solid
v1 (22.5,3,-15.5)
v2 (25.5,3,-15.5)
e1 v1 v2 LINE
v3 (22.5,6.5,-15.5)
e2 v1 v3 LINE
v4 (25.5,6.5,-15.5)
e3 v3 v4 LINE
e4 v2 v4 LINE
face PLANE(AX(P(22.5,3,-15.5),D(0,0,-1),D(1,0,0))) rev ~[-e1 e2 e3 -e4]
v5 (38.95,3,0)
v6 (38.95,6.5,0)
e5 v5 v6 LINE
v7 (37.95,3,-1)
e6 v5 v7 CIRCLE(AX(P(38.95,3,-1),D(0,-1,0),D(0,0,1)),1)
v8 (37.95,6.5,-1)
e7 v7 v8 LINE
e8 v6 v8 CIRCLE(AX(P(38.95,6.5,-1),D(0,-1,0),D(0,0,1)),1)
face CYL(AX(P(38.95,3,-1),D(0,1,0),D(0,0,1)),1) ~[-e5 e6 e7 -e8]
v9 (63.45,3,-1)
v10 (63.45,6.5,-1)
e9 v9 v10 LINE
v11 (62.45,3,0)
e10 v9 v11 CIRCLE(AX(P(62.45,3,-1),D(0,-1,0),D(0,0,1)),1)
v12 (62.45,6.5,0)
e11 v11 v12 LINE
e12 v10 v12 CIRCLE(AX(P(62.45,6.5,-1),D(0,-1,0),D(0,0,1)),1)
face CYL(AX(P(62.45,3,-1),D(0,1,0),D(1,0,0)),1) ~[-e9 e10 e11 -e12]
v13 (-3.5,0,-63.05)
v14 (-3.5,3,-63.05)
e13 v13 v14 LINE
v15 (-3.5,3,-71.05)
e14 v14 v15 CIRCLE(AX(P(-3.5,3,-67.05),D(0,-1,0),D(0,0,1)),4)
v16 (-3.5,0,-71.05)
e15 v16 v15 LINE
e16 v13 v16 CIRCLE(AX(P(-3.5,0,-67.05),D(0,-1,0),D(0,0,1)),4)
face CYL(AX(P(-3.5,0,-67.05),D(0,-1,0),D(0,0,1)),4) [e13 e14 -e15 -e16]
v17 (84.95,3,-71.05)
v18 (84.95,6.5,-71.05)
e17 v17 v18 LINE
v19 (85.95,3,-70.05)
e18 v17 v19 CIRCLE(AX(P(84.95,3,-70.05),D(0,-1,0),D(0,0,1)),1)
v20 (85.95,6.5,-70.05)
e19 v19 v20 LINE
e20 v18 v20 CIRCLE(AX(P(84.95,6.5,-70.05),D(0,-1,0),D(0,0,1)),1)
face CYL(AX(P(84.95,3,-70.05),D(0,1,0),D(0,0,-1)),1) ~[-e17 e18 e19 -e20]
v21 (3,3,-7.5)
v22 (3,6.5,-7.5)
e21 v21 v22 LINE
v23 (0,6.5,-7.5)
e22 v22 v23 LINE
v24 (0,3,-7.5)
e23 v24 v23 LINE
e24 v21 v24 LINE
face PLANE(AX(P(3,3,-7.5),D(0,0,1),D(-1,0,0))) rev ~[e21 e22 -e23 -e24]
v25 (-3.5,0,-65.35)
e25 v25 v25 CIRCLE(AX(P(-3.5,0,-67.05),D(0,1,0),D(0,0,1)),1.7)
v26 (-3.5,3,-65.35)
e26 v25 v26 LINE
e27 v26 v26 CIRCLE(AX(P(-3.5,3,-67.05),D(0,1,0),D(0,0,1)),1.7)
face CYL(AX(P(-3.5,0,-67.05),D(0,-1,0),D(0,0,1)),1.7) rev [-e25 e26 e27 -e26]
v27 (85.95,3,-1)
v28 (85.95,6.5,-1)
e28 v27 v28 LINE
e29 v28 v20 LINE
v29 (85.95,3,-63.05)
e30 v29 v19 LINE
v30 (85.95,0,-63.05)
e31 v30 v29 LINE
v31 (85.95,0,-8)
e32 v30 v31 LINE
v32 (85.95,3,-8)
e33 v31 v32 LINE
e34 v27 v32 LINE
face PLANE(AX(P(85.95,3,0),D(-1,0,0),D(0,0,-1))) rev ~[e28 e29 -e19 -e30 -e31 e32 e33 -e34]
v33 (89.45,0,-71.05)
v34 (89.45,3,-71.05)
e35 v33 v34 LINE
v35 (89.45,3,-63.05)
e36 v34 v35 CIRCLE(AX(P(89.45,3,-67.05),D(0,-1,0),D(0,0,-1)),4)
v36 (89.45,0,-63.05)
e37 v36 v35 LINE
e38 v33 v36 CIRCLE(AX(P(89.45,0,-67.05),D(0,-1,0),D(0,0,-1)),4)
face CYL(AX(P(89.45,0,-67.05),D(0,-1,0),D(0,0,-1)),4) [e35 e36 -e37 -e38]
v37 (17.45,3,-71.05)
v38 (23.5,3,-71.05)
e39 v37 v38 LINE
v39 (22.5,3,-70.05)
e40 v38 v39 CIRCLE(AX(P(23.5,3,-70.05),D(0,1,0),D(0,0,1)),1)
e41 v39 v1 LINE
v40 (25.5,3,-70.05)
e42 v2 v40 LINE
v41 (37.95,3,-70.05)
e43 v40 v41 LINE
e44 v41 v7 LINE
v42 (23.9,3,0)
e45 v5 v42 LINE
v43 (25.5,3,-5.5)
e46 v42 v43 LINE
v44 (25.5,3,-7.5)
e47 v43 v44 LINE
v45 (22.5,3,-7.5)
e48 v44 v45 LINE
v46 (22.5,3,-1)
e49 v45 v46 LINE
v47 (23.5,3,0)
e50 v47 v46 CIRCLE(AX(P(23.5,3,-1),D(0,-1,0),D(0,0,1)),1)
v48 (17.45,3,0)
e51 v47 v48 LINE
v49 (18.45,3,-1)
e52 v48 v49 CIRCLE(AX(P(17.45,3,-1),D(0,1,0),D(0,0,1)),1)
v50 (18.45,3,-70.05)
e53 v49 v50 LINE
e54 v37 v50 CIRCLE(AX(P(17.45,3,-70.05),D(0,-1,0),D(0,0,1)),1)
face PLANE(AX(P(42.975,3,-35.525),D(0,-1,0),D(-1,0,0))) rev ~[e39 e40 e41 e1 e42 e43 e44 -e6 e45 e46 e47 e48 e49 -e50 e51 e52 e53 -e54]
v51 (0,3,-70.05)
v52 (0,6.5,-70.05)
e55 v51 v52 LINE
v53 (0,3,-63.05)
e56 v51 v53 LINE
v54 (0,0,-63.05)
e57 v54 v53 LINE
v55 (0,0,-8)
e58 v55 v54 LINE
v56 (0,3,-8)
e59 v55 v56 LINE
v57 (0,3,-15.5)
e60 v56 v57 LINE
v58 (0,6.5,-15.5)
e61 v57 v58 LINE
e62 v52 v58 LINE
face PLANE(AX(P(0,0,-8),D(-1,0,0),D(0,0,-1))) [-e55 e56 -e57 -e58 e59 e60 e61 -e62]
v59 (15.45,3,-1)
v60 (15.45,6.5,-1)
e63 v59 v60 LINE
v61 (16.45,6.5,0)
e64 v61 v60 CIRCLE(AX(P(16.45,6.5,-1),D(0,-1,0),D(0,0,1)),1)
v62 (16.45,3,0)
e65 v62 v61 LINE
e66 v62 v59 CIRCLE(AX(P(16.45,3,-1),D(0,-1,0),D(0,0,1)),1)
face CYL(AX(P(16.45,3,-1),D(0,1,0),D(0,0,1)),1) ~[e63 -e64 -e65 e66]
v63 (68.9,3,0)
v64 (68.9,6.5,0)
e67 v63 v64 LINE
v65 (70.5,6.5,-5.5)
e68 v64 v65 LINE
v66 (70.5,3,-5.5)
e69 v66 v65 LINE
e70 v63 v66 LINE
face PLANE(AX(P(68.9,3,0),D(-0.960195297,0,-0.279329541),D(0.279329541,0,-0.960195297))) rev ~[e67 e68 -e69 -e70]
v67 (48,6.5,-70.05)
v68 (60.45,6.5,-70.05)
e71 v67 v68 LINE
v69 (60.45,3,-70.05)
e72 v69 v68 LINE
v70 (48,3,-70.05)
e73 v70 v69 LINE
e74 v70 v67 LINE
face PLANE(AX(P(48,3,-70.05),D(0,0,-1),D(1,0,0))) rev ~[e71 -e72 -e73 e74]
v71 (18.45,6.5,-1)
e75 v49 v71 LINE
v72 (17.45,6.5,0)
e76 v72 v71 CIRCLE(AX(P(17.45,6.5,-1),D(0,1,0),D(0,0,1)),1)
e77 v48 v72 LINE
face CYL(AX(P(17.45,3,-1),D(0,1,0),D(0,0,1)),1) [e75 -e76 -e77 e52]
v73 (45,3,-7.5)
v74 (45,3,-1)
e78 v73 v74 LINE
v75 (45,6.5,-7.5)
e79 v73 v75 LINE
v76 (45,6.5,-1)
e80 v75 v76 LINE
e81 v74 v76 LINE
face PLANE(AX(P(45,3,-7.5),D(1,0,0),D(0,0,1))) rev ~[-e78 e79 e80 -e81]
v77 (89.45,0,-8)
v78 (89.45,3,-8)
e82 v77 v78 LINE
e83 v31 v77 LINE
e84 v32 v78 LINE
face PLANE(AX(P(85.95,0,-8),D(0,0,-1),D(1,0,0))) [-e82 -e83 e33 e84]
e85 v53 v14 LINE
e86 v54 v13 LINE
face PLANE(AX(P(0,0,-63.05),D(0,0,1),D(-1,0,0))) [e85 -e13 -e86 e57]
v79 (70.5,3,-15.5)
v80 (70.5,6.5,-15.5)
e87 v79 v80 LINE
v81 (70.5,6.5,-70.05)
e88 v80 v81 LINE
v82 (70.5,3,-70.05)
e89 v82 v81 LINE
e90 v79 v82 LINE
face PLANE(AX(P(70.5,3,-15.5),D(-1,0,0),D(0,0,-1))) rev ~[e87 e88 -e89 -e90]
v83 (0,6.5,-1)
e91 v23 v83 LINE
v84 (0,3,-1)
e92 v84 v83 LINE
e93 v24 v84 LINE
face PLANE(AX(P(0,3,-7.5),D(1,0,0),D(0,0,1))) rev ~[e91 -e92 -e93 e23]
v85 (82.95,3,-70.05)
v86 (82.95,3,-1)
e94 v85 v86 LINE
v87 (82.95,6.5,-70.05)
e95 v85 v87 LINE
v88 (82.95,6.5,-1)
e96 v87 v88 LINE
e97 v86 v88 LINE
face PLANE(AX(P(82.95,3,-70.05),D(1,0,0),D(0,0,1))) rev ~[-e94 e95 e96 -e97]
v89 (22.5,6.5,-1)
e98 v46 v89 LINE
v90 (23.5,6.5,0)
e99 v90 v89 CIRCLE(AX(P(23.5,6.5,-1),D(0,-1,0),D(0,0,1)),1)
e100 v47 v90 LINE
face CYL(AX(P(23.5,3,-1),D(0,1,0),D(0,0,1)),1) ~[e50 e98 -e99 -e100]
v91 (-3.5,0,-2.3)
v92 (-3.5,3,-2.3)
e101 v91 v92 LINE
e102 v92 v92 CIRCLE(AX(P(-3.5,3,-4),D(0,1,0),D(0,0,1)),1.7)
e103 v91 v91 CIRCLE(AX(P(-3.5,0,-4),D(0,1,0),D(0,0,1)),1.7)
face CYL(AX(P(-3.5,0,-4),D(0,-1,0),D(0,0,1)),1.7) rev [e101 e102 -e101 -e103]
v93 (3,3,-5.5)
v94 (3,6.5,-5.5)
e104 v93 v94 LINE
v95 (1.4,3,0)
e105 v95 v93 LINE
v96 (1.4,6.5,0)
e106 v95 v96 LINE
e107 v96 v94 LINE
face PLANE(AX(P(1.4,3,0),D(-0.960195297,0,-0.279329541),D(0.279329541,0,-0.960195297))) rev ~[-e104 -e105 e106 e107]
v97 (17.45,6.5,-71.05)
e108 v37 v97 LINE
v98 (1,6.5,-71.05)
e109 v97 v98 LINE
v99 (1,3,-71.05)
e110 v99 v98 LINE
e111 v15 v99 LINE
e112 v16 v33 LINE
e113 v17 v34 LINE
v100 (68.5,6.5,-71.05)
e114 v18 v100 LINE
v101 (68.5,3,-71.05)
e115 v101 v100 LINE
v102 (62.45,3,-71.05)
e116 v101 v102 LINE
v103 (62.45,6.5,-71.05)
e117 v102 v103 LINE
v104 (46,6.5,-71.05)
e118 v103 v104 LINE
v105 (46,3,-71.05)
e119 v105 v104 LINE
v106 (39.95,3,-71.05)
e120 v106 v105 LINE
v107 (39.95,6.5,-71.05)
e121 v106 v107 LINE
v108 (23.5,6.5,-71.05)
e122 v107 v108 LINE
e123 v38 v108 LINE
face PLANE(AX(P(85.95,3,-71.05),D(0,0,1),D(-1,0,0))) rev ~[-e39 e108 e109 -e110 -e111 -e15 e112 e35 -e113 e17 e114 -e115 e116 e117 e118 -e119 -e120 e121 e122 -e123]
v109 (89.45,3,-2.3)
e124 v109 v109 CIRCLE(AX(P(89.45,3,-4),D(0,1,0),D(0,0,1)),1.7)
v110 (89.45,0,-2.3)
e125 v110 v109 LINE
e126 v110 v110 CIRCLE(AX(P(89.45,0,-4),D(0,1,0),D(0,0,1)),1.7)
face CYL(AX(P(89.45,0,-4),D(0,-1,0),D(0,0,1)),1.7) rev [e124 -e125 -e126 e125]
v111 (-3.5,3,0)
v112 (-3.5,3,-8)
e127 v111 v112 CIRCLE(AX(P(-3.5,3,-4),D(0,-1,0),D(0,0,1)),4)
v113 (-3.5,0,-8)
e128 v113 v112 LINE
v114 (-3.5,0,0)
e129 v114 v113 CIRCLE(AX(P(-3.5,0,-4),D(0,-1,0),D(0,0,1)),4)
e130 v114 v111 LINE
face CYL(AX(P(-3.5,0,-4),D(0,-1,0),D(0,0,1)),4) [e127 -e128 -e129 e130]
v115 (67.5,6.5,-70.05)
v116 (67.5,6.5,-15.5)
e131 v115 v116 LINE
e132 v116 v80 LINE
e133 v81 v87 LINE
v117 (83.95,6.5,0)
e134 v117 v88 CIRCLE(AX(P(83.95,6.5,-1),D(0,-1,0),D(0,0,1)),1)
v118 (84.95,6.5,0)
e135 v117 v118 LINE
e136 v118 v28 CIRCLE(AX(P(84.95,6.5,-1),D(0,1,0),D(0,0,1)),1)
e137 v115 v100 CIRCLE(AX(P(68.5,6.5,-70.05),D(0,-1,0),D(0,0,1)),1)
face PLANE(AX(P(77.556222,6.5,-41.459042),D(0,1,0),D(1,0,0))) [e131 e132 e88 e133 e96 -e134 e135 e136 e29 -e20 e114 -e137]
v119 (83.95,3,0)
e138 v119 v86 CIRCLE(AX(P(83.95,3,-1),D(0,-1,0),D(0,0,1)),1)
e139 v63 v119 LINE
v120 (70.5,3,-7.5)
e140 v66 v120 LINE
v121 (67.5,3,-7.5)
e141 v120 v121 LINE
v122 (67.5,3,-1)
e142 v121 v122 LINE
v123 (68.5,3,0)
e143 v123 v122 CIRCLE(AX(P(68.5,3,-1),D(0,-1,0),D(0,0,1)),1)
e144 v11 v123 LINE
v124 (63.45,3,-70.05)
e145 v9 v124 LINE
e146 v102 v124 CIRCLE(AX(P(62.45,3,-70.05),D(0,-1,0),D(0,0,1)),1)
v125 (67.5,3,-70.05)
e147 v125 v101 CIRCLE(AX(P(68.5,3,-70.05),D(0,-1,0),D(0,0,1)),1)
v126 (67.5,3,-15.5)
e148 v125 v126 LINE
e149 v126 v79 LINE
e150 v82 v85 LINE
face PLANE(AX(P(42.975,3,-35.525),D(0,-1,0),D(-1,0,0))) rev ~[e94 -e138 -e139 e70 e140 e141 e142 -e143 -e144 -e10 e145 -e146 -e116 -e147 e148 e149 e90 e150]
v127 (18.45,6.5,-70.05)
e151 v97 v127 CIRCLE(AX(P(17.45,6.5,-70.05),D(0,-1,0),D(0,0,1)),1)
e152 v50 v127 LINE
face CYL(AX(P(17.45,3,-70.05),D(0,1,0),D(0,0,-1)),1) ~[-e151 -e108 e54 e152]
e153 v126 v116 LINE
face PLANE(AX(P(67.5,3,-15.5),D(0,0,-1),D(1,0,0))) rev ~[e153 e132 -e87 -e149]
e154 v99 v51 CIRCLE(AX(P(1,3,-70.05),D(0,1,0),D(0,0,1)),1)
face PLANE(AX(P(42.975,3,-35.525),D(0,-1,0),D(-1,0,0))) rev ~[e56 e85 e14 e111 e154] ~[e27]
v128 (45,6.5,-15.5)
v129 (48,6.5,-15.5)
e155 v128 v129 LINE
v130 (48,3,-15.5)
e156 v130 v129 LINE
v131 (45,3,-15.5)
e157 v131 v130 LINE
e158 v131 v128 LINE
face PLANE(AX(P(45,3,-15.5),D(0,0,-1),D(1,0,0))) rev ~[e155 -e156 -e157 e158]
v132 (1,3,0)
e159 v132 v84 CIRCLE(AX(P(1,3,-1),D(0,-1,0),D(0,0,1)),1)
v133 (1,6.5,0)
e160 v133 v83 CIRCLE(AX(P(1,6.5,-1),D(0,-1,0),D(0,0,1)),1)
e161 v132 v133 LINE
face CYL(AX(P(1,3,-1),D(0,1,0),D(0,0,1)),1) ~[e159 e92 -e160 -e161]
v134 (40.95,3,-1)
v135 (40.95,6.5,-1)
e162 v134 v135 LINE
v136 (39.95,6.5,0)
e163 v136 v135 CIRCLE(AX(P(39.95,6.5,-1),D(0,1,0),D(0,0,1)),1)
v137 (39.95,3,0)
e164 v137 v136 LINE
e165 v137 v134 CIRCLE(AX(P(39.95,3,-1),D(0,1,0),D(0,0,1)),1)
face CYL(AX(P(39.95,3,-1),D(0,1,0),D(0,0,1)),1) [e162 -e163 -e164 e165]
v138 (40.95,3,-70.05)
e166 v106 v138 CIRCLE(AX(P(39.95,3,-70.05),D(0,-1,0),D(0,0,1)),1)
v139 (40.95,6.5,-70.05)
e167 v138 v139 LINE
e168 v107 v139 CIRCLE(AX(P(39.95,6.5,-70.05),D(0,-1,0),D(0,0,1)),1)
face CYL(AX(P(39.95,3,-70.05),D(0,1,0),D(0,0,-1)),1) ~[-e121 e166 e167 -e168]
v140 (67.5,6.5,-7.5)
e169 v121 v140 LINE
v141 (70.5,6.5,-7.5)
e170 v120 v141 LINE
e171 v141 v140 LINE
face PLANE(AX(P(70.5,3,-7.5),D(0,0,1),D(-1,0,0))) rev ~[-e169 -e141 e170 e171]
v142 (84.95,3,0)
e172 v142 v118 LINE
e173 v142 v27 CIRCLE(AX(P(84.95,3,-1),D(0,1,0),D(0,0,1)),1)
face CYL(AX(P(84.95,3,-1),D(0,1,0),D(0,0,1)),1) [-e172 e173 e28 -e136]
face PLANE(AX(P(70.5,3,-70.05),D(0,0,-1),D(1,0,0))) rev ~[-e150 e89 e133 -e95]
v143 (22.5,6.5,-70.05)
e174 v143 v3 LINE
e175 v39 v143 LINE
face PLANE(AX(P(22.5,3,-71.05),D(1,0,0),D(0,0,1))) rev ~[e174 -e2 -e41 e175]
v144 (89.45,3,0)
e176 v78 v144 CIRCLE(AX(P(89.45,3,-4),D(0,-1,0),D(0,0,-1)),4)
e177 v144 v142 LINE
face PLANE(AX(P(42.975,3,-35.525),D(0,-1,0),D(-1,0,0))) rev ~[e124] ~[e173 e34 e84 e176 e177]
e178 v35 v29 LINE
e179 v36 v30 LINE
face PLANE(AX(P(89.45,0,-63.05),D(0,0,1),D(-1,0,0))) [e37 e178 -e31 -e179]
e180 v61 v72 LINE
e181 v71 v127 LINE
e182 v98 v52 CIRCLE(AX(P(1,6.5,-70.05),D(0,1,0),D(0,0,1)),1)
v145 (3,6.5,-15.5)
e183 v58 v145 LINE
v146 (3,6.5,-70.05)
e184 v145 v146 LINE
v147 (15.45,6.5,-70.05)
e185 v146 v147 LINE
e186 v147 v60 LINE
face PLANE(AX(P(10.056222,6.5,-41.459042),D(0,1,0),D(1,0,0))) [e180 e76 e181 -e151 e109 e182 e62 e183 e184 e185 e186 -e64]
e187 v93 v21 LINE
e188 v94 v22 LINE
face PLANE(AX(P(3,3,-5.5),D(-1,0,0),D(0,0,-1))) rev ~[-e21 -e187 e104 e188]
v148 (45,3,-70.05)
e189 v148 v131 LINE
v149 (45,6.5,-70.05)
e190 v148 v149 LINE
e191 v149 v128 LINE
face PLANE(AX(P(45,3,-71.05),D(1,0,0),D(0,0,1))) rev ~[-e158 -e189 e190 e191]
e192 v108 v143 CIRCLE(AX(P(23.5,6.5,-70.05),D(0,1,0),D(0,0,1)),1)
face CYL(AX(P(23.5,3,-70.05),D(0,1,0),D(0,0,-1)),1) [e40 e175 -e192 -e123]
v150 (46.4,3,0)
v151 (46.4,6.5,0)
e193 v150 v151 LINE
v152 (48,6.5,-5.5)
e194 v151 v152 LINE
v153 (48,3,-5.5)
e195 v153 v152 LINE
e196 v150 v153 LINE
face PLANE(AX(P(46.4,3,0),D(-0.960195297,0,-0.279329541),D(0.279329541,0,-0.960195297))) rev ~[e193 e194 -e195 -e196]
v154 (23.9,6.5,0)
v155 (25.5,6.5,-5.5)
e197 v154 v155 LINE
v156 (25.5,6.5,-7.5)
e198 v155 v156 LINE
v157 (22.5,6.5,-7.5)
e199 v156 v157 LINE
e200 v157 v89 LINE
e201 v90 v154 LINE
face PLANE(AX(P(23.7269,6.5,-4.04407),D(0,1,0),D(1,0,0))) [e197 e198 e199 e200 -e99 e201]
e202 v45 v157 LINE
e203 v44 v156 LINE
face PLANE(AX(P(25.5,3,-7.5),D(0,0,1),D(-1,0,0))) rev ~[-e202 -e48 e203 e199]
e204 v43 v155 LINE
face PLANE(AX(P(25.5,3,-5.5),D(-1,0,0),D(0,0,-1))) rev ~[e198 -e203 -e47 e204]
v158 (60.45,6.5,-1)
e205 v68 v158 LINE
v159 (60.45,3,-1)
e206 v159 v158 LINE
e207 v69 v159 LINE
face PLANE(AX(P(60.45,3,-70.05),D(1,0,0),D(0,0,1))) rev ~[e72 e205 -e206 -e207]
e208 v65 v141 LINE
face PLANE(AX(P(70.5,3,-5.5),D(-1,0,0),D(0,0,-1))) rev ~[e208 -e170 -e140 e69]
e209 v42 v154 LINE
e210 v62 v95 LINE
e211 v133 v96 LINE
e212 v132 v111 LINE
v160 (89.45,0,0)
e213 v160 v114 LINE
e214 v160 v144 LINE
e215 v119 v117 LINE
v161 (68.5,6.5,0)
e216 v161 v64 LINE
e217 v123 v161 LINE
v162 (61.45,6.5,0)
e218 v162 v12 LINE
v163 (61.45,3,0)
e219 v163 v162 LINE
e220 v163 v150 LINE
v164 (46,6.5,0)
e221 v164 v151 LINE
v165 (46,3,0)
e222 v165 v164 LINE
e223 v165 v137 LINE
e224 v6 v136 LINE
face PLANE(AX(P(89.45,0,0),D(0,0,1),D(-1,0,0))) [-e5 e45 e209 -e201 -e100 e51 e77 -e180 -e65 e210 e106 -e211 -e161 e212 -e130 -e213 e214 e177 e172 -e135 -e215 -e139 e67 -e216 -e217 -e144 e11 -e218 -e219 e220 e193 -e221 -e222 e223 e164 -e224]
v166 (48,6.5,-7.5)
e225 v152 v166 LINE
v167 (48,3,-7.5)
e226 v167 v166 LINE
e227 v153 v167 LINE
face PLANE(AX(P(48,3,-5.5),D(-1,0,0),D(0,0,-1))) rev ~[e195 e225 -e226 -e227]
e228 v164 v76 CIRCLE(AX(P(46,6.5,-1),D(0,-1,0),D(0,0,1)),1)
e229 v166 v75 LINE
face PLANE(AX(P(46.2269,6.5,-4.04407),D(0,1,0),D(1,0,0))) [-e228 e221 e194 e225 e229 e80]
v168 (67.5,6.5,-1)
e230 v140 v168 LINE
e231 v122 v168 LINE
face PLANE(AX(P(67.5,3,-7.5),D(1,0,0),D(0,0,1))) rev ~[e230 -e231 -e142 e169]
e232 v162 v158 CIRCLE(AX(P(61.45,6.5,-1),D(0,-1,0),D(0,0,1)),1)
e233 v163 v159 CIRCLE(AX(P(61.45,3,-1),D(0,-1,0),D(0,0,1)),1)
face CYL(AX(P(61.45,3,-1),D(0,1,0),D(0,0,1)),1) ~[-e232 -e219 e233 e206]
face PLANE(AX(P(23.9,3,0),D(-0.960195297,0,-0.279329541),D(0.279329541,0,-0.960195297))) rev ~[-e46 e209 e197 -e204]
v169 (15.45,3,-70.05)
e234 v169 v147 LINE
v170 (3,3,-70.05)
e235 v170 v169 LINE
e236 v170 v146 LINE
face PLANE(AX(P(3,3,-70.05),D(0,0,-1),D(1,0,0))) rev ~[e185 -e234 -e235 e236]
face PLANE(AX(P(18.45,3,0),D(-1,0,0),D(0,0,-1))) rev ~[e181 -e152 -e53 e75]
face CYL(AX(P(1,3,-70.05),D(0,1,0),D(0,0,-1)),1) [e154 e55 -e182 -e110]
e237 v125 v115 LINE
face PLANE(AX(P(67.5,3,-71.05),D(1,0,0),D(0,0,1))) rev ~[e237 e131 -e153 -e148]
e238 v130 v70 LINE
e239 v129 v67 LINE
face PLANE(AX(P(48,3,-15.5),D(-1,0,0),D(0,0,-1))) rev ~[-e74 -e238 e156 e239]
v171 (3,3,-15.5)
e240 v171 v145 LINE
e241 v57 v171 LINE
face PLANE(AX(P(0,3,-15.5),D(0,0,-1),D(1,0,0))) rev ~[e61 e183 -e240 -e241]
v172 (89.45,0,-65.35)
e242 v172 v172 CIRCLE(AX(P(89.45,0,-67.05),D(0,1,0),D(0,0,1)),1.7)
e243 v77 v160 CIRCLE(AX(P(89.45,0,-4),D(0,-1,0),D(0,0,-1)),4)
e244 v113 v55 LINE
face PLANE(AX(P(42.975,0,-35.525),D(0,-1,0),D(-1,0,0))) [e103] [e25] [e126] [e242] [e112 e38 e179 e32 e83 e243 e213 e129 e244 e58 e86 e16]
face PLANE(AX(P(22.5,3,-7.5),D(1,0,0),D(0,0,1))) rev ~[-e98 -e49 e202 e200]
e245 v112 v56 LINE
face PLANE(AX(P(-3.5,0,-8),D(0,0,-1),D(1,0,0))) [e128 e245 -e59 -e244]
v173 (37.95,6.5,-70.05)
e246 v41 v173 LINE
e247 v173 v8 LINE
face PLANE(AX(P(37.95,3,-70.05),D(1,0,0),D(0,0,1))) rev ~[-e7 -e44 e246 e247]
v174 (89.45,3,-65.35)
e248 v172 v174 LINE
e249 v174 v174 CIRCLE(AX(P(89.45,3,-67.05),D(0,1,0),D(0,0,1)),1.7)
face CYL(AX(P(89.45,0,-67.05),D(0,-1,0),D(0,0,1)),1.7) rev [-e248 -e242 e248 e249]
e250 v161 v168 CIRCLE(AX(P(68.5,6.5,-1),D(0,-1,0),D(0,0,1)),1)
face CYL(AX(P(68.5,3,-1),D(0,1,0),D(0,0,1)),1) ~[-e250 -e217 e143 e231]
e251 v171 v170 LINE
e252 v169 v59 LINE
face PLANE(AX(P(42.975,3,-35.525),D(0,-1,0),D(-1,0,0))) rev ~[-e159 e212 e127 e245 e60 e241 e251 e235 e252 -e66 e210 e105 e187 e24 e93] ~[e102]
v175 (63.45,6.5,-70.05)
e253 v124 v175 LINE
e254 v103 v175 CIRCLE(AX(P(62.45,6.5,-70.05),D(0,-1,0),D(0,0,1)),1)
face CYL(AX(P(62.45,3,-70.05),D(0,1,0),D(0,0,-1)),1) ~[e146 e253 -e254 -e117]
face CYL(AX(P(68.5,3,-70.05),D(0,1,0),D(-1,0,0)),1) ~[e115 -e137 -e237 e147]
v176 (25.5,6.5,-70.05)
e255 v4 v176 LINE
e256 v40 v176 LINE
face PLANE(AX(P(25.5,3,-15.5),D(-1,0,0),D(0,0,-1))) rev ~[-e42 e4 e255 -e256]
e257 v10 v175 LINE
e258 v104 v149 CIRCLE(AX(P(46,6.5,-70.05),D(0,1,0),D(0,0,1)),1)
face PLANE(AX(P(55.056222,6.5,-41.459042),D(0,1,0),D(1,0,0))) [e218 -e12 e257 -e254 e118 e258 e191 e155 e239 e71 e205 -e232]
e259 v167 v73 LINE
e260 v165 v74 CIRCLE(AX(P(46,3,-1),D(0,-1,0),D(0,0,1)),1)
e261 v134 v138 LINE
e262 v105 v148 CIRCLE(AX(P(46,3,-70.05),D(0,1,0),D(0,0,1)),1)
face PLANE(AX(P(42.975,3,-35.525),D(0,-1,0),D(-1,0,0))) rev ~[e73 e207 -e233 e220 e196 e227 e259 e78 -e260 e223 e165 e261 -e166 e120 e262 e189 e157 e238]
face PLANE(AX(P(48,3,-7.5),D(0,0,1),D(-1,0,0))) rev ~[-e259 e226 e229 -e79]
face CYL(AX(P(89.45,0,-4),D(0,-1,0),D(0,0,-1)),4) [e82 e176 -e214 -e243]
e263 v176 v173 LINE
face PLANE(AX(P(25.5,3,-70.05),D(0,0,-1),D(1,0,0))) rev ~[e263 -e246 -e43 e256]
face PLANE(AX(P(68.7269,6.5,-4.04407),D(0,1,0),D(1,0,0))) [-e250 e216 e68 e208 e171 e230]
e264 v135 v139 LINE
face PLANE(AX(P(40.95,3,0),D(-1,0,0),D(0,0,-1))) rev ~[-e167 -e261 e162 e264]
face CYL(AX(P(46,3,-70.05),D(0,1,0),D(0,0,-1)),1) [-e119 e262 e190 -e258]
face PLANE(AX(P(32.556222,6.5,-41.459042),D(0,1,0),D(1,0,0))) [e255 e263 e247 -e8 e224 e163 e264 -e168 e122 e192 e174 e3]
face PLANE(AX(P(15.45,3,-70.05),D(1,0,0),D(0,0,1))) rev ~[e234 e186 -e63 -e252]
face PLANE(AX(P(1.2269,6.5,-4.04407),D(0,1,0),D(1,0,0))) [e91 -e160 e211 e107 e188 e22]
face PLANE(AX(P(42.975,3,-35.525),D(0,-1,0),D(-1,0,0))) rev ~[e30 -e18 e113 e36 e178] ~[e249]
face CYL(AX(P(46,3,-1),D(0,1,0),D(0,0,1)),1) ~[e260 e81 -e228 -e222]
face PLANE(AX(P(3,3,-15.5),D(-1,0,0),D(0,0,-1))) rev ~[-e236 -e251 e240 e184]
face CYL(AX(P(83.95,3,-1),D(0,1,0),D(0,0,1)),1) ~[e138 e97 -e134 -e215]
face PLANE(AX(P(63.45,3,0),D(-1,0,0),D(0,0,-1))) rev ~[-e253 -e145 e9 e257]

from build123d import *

# Parameters (mm, degrees)
SKETCH_2_R      = 1.7
EXTRUDE_1_DEPTH = 3
EXTRUDE_2_DEPTH = 3.5
FILLET_5_R      = 1


with BuildPart() as part:
    # ｽｹｯﾁ2 → ﾎﾞｽ - 押し出し1 (new body)
    with BuildSketch(Plane(origin=(0, 0, 0), x_dir=(1, 0, 0), z_dir=(0, 1, 0))):
        with BuildLine():
            Line((85.95, 71.05), (89.45, 71.05))
            ThreePointArc((89.45, 71.05), (93.45, 67.05), (89.45, 63.05))
            Line((89.45, 63.05), (85.95, 63.05))
            Line((85.95, 63.05), (85.95, 8))
            Line((85.95, 8), (89.45, 8))
            ThreePointArc((89.45, 8), (93.45, 4), (89.45, 0))
            Line((89.45, 0), (85.95, 0))
            Line((85.95, 0), (0, 0))
            Line((0, 0), (-3.5, 0))
            ThreePointArc((-3.5, 0), (-7.5, 4), (-3.5, 8))
            Line((-3.5, 8), (0, 8))
            Line((0, 8), (0, 63.05))
            Line((0, 63.05), (-3.5, 63.05))
            ThreePointArc((-3.5, 63.05), (-7.5, 67.05), (-3.5, 71.05))
            Line((-3.5, 71.05), (0, 71.05))
            Line((0, 71.05), (85.95, 71.05))
        make_face()
        with Locations(Location((89.45, 67.05, 0), (0, 0, 270))):
            Circle(SKETCH_2_R, mode=Mode.SUBTRACT)
        with Locations(Location((89.45, 4, 0), (0, 0, 270))):
            Circle(SKETCH_2_R, mode=Mode.SUBTRACT)
        with Locations(Location((-3.5, 67.05, 0), (0, 0, 270))):
            Circle(SKETCH_2_R, mode=Mode.SUBTRACT)
        with Locations(Location((-3.5, 4, 0), (0, 0, 270))):
            Circle(SKETCH_2_R, mode=Mode.SUBTRACT)
    extrude(amount=EXTRUDE_1_DEPTH)

    # ｽｹｯﾁ3 → ﾎﾞｽ - 押し出し2 (add)
    with BuildSketch(Plane(origin=(0, 3, 0), x_dir=(1, 0, 0), z_dir=(0, 1, 0))):
        Polygon((68.9, 0), (70.5, 5.5), (70.5, 7.5), (67.5, 7.5), (67.5, 0), align=None)
        Polygon((67.5, 15.5), (70.5, 15.5), (70.5, 70.05), (82.95, 70.05), (82.95, 0), (85.95, 0), (85.95, 71.05), (67.5, 71.05), align=None)
        Polygon((45, 15.5), (48, 15.5), (48, 70.05), (60.45, 70.05), (60.45, 0), (63.45, 0), (63.45, 71.05), (45, 71.05), align=None)
        Polygon((46.4, 0), (48, 5.5), (48, 7.5), (45, 7.5), (45, 0), align=None)
        Polygon((22.5, 15.5), (25.5, 15.5), (25.5, 70.05), (37.95, 70.05), (37.95, 0), (40.95, 0), (40.95, 71.05), (22.5, 71.05), align=None)
        Polygon((23.9, 0), (25.5, 5.5), (25.5, 7.5), (22.5, 7.5), (22.5, 0), align=None)
        Polygon((0, 15.5), (3, 15.5), (3, 70.05), (15.45, 70.05), (15.45, 0), (18.45, 0), (18.45, 71.05), (0, 71.05), align=None)
        Polygon((1.4, 0), (3, 5.5), (3, 7.5), (0, 7.5), (0, 0), align=None)
    extrude(amount=EXTRUDE_2_DEPTH)

    # ﾌｨﾚｯﾄ5
    fillet_5_edges = [part.edges().sort_by_distance(p)[0] for p in [
        (85.95, 4.75, 0),
        (85.95, 4.75, -71.05),
        (45, 4.75, -71.05),
        (60.45, 4.75, 0),
        (63.45, 4.75, 0),
        (63.45, 4.75, -71.05),
        (22.5, 4.75, 0),
        (22.5, 4.75, -71.05),
        (37.95, 4.75, 0),
        (40.95, 4.75, 0),
        (40.95, 4.75, -71.05),
        (0, 4.75, 0),
        (0, 4.75, -71.05),
        (15.45, 4.75, 0),
        (18.45, 4.75, 0),
        (18.45, 4.75, -71.05),
        (67.5, 4.75, 0),
        (45, 4.75, 0),
        (67.5, 4.75, -71.05),
        (82.95, 4.75, 0),
    ]]
    fillet(fillet_5_edges, radius=FILLET_5_R)


solid = part.part
